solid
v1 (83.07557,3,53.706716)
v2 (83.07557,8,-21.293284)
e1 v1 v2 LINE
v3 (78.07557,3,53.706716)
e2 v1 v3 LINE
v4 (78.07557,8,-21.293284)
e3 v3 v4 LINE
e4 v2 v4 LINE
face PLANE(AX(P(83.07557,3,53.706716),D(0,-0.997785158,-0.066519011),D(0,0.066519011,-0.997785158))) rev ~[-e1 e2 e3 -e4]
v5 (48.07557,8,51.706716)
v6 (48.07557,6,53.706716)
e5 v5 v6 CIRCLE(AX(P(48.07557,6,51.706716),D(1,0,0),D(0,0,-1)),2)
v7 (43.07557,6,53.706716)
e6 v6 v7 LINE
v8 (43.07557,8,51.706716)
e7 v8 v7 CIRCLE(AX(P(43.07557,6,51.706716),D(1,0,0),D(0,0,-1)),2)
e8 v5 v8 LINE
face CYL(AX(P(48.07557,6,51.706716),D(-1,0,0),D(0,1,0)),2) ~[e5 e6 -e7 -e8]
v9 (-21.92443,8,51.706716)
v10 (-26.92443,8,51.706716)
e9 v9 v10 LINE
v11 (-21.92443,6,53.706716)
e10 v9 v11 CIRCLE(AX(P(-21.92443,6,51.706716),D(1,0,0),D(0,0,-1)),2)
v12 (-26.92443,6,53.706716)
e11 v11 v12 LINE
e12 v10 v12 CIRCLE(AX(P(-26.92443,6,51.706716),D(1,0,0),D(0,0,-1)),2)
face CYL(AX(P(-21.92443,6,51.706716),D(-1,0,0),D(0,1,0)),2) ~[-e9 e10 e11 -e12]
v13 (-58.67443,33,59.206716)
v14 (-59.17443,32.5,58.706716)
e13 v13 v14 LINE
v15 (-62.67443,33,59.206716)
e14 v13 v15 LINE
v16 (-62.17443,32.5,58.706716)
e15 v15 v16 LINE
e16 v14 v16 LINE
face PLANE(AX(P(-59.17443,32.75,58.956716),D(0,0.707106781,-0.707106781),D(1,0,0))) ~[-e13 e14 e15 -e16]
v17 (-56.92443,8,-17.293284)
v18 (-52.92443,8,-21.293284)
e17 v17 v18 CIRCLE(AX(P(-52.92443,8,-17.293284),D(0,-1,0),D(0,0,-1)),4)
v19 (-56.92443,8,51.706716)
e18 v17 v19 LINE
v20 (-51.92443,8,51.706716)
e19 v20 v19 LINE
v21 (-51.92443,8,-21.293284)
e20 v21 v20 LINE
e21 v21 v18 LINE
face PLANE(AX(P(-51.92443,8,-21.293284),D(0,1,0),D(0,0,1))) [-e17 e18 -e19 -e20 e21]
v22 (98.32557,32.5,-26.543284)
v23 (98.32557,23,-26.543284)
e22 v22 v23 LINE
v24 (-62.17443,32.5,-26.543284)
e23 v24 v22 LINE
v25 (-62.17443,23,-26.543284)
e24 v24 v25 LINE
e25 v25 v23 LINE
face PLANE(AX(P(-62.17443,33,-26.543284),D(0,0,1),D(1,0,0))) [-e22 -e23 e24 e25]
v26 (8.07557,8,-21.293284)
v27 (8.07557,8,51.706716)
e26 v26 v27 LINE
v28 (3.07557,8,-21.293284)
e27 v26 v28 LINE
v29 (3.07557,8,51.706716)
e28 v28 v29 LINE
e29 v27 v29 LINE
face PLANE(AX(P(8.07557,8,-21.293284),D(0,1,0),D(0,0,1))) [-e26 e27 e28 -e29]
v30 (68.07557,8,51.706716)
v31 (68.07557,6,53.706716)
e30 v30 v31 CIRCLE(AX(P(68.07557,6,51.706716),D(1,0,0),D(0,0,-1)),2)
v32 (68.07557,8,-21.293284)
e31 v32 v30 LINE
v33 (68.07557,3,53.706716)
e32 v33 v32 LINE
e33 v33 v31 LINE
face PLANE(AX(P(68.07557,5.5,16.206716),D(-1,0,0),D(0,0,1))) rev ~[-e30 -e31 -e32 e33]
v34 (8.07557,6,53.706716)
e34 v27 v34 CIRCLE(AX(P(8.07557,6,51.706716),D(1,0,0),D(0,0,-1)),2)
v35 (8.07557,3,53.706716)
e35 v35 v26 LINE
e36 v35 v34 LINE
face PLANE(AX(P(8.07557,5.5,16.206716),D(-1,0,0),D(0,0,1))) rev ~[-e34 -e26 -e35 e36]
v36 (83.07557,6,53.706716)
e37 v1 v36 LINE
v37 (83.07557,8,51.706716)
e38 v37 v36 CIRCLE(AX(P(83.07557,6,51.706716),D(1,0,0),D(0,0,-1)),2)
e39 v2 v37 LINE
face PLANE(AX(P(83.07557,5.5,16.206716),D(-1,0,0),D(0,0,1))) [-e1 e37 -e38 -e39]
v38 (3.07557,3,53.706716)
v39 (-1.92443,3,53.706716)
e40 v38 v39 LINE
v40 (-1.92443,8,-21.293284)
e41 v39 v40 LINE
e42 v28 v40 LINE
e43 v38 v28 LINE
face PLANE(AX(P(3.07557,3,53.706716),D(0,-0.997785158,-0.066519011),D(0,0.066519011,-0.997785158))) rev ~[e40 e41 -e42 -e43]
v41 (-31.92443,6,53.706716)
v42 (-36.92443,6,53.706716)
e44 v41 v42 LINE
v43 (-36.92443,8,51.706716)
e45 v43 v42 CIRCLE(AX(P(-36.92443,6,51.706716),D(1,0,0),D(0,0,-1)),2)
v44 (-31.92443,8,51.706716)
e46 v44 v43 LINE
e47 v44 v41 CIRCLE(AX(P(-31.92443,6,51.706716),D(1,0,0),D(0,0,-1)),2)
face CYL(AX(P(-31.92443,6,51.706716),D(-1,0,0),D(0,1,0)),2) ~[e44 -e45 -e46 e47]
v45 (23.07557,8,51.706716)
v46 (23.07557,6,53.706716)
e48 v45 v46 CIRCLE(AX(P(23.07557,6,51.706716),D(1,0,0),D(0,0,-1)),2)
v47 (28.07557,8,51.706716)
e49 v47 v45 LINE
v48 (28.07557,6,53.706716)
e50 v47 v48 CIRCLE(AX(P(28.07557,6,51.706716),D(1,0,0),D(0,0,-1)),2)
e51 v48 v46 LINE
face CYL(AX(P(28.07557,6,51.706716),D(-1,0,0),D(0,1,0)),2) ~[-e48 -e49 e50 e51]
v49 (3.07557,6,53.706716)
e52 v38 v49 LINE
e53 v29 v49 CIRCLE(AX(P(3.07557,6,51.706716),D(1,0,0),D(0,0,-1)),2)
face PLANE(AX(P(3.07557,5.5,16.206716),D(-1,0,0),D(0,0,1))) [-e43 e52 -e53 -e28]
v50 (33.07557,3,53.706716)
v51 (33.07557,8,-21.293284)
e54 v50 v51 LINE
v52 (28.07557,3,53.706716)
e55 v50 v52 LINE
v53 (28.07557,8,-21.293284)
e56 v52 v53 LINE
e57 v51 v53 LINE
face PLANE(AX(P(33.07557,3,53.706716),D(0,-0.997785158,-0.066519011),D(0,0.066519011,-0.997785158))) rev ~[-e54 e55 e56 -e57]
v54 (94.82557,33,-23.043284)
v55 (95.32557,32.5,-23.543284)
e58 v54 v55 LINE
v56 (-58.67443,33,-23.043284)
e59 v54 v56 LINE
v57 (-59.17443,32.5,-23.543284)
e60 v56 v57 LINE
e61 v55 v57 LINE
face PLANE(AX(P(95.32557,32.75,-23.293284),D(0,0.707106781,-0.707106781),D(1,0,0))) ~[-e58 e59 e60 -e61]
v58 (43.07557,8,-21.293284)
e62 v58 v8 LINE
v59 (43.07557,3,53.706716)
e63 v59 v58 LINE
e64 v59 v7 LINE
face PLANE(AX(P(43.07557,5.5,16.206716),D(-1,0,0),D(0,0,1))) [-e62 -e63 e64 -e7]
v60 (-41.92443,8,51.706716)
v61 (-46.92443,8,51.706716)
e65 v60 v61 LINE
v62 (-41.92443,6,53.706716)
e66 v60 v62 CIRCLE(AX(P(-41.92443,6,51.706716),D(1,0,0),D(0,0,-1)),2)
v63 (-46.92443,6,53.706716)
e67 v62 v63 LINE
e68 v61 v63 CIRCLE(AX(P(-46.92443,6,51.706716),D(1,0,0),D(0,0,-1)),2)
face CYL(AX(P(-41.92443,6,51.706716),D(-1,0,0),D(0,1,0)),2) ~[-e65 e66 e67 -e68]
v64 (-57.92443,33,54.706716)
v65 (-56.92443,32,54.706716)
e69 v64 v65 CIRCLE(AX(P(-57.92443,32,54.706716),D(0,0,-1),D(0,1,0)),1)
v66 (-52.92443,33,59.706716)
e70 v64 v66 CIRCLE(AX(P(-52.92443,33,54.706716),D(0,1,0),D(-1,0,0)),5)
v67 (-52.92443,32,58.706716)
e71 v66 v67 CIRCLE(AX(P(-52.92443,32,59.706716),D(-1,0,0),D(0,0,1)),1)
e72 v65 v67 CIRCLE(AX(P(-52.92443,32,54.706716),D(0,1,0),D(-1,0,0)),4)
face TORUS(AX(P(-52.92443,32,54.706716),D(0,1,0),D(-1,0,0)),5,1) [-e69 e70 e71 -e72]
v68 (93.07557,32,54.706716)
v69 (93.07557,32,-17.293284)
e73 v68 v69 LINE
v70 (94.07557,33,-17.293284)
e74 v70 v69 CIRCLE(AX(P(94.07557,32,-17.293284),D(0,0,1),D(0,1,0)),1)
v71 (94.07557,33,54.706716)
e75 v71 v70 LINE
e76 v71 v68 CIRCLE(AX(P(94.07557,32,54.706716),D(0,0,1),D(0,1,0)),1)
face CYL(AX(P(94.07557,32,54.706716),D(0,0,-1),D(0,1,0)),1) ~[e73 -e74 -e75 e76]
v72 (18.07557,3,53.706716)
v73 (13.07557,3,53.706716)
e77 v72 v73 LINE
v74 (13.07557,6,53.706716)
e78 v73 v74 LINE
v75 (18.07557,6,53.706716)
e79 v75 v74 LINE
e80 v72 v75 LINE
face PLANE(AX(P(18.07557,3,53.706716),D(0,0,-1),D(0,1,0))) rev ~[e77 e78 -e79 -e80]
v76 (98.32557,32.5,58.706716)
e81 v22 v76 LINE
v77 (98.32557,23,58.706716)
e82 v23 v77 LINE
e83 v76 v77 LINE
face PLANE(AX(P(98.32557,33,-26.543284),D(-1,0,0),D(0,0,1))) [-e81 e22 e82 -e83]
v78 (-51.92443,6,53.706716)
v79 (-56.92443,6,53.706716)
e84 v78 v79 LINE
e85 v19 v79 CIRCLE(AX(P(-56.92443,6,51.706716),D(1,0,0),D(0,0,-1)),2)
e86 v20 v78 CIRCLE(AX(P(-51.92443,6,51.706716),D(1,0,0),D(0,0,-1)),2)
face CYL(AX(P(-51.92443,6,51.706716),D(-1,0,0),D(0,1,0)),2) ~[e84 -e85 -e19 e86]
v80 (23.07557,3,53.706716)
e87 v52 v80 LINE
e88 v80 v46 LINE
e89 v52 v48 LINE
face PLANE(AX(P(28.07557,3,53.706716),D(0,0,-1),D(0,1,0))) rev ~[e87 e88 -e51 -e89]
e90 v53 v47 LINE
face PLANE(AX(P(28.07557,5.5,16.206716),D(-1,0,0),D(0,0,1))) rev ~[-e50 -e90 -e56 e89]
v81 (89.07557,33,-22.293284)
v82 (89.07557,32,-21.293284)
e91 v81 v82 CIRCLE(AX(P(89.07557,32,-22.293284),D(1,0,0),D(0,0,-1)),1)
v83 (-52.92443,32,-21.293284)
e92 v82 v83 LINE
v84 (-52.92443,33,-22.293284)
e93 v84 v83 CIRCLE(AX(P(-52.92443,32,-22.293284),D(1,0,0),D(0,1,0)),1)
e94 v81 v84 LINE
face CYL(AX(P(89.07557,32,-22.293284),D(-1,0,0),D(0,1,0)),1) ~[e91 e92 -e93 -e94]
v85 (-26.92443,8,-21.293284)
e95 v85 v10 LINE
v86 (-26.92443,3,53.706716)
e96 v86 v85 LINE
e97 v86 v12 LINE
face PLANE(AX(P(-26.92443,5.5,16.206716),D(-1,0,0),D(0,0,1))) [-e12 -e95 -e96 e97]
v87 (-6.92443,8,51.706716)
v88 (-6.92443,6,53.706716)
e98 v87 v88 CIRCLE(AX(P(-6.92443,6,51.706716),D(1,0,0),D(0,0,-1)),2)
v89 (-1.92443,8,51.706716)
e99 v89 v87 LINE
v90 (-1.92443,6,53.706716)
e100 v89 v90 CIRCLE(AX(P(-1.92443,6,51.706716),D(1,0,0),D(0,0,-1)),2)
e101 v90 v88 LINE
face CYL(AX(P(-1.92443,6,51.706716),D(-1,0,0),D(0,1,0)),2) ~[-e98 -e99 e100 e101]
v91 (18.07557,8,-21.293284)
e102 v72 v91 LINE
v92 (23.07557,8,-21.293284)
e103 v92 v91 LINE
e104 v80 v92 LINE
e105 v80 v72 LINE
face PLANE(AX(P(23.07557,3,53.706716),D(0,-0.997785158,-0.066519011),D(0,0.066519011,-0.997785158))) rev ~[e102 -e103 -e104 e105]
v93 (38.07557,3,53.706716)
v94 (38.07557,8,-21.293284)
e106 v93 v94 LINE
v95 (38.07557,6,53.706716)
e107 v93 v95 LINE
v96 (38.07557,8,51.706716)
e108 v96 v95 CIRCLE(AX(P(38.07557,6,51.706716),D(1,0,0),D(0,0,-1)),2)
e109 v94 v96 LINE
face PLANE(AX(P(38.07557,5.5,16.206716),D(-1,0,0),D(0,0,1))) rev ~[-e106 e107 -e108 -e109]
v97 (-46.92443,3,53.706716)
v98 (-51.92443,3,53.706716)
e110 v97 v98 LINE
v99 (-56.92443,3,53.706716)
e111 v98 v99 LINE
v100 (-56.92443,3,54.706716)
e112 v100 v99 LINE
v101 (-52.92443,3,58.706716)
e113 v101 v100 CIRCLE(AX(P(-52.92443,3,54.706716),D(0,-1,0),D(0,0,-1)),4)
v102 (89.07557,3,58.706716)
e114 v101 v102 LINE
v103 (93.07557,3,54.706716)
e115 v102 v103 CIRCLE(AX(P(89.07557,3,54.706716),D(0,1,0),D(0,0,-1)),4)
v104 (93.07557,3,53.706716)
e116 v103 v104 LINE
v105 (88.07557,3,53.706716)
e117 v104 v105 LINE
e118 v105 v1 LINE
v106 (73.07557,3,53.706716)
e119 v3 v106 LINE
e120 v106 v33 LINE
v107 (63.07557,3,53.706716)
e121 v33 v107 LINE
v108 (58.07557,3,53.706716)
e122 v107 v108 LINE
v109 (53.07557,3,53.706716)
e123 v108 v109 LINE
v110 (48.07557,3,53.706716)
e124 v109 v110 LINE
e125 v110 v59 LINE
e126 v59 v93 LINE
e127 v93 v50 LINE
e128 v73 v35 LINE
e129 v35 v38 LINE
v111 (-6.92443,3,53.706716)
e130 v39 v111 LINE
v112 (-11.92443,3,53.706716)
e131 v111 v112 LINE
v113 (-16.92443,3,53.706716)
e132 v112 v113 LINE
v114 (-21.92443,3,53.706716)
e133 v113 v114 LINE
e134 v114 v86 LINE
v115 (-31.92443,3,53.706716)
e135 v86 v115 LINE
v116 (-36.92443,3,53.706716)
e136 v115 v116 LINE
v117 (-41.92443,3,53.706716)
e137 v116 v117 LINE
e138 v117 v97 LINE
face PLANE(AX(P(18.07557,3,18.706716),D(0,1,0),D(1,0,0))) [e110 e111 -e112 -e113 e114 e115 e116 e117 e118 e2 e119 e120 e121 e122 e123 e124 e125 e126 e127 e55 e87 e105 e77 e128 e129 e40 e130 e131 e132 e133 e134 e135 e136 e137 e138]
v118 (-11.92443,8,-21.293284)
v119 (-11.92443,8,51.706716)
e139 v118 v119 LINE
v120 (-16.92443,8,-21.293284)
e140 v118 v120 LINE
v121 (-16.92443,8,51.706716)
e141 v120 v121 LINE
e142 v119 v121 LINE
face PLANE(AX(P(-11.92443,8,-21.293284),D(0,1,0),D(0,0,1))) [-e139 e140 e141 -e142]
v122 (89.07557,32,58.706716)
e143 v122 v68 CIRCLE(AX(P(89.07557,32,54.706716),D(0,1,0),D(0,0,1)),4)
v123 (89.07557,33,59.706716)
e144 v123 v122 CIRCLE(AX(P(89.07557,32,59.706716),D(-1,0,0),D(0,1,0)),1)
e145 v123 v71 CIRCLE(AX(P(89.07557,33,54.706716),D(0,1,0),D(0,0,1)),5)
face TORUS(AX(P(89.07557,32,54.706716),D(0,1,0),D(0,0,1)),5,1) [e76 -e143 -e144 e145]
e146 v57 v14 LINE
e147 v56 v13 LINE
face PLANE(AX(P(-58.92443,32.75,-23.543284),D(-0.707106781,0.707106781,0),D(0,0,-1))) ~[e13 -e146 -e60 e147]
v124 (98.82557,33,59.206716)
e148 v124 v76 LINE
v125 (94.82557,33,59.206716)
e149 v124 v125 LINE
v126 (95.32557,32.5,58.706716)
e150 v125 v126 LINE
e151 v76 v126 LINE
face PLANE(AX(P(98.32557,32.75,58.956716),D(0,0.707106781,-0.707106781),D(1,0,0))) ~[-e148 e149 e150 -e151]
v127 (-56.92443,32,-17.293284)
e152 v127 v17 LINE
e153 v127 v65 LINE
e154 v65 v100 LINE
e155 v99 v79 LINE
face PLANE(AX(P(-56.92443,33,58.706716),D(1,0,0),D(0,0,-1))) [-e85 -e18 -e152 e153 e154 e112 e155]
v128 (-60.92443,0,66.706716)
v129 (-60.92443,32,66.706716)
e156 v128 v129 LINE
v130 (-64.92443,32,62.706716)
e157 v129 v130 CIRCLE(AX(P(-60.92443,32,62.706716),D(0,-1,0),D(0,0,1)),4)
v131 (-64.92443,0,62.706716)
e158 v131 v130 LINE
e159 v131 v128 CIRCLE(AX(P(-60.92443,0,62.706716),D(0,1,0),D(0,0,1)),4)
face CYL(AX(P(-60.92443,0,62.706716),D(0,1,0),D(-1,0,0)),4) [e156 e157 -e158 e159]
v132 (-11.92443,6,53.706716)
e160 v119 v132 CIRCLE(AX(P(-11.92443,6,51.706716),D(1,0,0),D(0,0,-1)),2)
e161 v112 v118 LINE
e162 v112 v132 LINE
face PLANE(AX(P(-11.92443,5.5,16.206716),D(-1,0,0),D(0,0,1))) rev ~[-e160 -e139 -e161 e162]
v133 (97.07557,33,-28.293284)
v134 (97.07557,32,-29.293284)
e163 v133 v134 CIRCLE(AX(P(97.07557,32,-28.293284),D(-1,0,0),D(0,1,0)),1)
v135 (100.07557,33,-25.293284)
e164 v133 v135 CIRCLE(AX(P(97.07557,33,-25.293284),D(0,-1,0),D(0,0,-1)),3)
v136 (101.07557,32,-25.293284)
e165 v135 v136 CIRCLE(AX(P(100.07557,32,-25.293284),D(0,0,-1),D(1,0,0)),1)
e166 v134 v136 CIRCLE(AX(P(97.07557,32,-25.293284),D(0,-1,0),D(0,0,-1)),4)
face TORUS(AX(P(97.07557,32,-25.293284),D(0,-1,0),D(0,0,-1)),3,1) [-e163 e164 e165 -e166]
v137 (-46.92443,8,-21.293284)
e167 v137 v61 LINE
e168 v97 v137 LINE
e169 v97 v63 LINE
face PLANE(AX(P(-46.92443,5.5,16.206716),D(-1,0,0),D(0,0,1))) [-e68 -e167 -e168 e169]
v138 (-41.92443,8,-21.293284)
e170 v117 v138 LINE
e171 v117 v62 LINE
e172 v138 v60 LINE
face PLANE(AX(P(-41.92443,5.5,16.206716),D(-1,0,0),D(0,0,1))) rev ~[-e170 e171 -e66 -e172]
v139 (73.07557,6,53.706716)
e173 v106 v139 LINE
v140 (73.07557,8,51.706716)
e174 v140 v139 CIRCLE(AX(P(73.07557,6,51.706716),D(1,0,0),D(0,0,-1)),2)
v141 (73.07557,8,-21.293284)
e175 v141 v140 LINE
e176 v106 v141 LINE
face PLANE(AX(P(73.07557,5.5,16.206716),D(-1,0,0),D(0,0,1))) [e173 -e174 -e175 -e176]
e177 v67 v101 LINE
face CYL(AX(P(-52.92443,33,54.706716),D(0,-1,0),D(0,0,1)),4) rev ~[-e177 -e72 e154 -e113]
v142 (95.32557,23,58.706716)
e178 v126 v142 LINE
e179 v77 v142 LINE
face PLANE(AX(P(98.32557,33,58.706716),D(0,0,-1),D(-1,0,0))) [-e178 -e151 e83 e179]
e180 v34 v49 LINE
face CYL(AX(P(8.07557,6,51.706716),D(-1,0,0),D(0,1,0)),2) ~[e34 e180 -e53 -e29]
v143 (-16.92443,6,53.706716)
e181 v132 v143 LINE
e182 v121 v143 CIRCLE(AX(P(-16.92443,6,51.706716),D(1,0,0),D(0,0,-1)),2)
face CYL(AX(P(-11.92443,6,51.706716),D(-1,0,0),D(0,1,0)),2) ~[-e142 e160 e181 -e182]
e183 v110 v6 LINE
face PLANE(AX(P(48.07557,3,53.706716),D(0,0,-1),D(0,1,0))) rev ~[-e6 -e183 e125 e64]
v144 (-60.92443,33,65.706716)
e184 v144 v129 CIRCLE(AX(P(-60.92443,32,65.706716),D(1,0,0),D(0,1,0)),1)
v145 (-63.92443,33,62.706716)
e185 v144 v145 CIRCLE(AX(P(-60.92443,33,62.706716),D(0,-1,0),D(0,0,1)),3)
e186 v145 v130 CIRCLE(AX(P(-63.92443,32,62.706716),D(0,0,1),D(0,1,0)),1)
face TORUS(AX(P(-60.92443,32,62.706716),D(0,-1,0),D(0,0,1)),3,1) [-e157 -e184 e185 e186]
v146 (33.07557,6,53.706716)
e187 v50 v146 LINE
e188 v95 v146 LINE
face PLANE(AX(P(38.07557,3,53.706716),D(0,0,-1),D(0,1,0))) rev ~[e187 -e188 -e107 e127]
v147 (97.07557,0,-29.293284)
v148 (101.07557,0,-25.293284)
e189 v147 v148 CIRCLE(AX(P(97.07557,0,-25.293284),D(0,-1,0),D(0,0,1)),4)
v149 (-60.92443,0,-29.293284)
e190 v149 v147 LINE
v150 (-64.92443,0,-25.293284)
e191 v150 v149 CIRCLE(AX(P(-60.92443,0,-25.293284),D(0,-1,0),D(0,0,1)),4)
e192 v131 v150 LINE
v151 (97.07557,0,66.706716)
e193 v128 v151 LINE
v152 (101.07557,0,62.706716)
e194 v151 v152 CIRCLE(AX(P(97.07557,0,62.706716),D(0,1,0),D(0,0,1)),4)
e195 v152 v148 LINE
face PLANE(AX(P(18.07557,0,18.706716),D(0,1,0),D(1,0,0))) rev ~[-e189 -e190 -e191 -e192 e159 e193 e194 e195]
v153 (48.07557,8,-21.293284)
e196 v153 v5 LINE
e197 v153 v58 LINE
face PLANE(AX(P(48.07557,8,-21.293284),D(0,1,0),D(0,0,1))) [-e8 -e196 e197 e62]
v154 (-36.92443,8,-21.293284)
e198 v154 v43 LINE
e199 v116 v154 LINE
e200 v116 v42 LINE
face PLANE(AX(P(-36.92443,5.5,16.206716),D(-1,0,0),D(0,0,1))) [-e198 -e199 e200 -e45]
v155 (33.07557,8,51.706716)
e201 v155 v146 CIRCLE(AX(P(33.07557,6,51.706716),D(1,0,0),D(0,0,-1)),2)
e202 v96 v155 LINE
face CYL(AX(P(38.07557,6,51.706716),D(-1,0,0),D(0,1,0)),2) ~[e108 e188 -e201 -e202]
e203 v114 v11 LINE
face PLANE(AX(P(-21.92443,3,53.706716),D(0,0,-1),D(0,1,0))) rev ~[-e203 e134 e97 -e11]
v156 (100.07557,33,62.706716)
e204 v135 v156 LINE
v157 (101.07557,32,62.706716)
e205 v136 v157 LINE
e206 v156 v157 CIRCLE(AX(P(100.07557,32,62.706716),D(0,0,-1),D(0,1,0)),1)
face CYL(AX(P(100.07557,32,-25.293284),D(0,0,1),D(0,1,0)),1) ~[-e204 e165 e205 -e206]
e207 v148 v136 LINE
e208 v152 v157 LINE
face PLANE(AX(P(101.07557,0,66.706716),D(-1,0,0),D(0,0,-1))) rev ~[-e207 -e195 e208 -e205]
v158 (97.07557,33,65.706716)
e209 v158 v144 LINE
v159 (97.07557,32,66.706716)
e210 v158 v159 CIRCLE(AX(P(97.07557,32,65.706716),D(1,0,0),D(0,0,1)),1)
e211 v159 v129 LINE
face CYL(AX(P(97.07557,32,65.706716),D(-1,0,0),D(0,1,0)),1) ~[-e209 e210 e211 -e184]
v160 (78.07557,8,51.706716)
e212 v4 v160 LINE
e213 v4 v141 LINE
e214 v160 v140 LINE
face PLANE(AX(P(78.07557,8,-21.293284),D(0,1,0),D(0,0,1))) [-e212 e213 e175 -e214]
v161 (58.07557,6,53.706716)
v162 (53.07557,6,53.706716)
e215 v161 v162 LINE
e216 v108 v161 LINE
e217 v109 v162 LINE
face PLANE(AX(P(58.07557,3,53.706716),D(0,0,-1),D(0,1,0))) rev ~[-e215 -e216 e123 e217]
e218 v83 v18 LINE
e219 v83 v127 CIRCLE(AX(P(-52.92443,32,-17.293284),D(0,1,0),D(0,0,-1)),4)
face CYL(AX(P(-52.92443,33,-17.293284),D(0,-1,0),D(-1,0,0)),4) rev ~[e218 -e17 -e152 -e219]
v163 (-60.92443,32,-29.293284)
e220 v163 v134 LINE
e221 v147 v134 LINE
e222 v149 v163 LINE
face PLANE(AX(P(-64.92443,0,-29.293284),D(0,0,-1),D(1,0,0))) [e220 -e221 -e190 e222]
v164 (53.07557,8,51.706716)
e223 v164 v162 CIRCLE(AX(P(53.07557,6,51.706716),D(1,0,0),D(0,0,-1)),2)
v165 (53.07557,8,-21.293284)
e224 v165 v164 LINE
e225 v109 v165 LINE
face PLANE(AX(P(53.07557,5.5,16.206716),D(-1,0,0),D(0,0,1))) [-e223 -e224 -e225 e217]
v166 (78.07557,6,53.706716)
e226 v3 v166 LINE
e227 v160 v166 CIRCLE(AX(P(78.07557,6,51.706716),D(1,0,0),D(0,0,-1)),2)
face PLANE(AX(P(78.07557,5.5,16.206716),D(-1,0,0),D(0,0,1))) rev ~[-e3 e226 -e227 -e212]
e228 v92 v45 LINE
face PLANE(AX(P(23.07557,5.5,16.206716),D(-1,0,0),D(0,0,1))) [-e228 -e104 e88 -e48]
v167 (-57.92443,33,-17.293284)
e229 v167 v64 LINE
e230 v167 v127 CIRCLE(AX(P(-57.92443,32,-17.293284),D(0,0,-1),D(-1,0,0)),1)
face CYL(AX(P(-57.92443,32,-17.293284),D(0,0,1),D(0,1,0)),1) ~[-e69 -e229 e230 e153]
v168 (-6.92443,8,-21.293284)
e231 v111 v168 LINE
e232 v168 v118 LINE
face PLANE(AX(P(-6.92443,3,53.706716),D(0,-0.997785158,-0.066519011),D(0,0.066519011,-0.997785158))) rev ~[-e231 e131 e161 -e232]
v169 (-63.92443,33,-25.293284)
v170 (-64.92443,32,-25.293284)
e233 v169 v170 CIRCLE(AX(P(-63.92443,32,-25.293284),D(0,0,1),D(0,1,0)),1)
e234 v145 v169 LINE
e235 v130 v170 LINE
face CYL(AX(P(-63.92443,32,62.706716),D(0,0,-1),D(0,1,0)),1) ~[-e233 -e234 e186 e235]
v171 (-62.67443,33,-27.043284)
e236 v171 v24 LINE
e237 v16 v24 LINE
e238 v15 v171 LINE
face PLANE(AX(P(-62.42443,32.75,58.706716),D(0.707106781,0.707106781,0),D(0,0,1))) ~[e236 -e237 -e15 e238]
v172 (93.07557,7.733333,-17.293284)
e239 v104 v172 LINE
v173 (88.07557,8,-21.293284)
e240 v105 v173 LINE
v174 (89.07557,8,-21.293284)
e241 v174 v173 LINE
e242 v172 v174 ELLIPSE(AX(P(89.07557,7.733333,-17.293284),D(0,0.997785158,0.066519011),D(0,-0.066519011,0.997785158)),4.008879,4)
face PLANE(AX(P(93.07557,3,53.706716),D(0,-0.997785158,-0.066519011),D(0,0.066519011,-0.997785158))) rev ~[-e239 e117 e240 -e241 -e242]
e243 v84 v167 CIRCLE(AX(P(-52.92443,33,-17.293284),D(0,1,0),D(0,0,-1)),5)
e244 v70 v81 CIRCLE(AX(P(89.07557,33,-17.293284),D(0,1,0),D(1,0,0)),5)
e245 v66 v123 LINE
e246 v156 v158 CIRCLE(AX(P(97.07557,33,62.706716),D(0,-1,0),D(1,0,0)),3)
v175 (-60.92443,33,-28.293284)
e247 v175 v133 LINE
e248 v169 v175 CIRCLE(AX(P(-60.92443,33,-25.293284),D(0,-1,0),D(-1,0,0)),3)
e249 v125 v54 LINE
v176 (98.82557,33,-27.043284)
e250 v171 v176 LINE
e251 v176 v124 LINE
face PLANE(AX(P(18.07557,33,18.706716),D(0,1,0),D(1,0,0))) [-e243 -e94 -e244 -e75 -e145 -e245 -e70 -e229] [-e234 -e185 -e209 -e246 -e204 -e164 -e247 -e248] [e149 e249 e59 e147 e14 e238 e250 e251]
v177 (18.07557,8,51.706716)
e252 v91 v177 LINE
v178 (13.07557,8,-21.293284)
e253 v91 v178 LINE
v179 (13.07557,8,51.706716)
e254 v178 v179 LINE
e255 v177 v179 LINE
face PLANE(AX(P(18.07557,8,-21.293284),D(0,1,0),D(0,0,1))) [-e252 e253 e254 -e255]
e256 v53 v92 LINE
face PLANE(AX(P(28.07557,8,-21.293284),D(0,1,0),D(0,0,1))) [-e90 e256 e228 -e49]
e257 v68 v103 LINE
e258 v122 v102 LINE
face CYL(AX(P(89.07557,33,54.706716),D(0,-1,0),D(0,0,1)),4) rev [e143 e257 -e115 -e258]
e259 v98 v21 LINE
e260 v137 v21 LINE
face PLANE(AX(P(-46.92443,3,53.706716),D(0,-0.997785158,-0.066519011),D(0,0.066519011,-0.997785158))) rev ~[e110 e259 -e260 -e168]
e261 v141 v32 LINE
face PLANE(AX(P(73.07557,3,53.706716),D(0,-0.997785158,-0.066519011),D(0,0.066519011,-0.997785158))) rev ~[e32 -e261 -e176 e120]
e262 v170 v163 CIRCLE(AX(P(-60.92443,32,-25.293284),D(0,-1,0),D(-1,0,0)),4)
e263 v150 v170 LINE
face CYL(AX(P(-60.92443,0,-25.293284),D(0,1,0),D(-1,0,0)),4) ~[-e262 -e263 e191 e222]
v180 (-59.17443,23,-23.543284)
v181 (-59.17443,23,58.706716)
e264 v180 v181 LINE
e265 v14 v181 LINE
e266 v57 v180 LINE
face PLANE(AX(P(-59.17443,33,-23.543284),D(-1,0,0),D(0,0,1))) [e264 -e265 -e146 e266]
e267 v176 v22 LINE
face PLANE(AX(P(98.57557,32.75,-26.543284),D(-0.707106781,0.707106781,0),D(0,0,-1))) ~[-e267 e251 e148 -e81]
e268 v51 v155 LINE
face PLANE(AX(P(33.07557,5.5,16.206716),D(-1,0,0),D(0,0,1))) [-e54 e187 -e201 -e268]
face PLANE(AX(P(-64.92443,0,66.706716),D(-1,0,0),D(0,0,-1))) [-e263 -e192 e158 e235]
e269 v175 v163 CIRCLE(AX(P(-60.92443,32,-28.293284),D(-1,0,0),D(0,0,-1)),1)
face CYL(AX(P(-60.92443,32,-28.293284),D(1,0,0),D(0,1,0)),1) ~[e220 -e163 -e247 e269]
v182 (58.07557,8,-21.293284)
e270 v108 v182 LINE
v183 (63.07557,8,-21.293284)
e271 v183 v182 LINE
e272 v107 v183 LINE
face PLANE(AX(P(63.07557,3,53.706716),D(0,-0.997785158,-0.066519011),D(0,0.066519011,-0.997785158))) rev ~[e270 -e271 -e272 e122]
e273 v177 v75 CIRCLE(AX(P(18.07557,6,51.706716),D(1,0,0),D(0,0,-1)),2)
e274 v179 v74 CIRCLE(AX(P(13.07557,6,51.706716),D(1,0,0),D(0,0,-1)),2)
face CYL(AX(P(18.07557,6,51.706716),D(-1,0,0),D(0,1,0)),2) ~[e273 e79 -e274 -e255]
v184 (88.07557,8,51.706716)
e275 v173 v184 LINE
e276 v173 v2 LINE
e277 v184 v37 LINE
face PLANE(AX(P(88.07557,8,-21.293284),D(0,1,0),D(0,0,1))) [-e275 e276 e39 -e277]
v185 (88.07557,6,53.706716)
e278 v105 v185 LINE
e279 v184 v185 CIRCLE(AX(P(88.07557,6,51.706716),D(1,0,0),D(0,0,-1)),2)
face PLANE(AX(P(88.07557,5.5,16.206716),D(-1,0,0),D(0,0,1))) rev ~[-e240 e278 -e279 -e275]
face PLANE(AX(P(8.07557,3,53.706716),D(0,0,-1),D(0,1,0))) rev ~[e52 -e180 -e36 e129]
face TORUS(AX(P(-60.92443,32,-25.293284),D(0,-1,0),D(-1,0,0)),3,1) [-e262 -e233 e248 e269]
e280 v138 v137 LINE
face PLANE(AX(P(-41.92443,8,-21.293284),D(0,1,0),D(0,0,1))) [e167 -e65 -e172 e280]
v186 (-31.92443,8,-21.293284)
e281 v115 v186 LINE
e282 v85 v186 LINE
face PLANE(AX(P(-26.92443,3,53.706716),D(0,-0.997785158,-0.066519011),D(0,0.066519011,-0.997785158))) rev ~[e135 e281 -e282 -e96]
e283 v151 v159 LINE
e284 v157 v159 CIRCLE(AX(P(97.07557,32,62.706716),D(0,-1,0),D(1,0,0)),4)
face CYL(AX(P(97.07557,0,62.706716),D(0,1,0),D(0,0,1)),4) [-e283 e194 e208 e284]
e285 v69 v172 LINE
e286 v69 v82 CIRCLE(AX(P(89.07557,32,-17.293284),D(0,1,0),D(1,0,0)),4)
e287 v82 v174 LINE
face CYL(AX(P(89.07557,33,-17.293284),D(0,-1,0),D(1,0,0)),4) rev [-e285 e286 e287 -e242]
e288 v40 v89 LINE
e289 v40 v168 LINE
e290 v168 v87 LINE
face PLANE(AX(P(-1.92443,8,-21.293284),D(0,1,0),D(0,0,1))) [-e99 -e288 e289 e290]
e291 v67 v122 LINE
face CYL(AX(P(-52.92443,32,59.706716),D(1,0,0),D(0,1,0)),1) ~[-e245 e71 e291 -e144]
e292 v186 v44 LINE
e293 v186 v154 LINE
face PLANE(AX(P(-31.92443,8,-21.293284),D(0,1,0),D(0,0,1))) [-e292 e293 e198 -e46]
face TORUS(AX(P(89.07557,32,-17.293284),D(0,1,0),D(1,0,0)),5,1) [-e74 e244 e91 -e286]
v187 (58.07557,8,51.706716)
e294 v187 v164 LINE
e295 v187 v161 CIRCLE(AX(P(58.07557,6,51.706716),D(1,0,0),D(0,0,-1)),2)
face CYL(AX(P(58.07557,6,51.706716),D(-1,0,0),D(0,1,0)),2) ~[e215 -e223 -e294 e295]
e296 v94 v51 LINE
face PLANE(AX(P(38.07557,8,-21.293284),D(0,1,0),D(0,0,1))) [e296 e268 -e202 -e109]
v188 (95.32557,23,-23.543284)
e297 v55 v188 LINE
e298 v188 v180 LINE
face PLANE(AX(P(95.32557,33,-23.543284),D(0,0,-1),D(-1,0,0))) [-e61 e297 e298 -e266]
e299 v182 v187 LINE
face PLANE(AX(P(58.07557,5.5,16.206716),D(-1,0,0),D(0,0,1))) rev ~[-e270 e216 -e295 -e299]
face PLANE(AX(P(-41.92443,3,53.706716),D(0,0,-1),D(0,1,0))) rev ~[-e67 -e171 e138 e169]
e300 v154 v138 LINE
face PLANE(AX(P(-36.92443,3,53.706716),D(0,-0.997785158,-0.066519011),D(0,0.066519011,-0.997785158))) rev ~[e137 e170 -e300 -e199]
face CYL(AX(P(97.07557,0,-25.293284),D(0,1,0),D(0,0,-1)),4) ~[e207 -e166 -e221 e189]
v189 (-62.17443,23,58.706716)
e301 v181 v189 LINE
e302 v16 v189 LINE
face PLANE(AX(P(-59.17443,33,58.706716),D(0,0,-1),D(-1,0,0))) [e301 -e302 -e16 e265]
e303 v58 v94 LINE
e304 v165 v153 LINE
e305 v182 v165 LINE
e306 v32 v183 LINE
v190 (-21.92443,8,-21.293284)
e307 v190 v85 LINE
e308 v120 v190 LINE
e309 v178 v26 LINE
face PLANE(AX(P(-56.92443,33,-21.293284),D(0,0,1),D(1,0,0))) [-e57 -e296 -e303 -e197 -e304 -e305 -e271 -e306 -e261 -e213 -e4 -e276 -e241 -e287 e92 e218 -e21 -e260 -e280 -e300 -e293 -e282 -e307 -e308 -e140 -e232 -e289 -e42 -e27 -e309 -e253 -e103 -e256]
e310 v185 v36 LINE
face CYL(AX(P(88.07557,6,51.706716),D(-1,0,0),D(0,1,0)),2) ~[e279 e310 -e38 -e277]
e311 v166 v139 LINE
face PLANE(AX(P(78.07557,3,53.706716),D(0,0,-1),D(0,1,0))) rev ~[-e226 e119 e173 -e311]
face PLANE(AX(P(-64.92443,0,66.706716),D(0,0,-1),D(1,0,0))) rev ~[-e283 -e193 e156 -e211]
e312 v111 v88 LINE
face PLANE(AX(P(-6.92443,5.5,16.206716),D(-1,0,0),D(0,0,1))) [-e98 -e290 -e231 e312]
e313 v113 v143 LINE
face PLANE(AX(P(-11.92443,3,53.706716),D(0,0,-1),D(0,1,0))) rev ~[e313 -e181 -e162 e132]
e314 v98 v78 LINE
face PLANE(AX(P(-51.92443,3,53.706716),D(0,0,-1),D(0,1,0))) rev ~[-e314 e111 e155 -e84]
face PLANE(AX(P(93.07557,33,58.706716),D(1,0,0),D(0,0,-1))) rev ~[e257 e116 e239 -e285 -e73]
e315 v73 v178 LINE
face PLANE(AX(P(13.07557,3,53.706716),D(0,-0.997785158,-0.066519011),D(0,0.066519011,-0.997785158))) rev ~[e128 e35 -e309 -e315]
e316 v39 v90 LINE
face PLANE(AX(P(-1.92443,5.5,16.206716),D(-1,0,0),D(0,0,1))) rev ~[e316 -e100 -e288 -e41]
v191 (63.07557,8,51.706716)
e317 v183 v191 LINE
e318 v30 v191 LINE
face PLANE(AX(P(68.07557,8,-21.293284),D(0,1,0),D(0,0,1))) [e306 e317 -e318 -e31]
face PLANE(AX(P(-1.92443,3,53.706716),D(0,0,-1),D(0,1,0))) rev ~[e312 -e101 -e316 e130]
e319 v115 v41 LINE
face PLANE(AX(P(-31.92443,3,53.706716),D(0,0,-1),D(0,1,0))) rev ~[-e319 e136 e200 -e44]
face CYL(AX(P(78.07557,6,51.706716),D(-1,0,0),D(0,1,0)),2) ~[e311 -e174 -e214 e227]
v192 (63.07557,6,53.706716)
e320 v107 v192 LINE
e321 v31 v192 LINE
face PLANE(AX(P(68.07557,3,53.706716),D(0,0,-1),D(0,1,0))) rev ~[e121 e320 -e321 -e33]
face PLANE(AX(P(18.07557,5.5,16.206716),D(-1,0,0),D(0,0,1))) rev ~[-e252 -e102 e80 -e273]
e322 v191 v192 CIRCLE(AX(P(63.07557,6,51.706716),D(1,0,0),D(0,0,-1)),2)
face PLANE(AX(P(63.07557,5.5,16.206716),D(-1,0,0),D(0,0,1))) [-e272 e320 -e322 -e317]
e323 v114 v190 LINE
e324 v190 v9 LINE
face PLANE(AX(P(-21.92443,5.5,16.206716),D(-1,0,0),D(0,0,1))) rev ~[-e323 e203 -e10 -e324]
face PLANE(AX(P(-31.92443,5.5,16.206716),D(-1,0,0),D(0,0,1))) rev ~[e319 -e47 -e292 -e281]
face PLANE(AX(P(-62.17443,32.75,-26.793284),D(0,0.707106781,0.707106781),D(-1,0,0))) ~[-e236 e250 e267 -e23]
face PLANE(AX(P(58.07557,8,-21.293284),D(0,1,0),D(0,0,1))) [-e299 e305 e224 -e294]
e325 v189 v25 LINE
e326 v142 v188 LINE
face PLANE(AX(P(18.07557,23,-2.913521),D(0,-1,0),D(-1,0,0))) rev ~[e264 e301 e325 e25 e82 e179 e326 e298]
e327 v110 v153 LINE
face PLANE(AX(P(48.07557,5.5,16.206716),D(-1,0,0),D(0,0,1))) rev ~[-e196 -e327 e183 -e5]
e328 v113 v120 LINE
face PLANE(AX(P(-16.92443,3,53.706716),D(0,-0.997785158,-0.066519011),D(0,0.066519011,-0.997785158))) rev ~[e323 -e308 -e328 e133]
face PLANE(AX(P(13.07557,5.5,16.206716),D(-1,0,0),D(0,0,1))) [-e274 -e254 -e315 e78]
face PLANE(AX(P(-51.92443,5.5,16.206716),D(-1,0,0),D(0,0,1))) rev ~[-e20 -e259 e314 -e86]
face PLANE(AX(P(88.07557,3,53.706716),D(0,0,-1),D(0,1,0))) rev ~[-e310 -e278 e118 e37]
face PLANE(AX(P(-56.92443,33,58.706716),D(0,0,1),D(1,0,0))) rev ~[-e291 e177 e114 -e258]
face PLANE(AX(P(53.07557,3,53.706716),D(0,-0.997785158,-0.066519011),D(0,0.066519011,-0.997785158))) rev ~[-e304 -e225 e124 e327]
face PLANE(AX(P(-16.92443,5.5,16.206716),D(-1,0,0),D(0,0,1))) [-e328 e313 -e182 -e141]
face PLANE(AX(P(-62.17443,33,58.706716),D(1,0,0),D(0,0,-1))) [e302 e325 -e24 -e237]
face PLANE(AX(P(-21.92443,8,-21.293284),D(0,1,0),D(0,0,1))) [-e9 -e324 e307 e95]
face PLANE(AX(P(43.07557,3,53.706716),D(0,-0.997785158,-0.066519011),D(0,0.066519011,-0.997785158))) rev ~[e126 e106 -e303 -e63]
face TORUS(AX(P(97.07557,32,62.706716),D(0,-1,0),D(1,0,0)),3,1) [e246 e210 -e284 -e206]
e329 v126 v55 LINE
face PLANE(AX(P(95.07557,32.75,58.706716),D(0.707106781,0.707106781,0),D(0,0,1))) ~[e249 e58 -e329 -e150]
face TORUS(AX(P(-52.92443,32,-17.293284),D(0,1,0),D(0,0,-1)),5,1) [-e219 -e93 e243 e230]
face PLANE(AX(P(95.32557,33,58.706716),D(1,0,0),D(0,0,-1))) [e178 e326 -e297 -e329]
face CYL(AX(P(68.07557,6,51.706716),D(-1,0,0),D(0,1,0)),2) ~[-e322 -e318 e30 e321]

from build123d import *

# Parameters (mm, degrees)
SKETCH1_W           = 166
SKETCH1_H           = 96
BOSS_EXTRUDE1_DEPTH = 33
SKETCH2_W           = 150
SKETCH2_H           = 80
CUT_EXTRUDE1_DEPTH  = 30
BOSS_EXTRUDE2_DEPTH = 5
SKETCH5_W           = 75
SKETCH5_H           = 5
BOSS_EXTRUDE3_DEPTH = 5
LPATTERN1_COUNT     = 15
LPATTERN1_PITCH     = 10
CUT_EXTRUDE5_DEPTH  = 10
FILLET1_R           = 4
FILLET2_R           = 4
FILLET3_R           = 2
FILLET5_R           = 1
CHAMFER1_SIZE       = 0.5


with BuildPart() as part:
    # Sketch1 → Boss-Extrude1 (new body)
    with BuildSketch(Plane(origin=(0, 0, 0), x_dir=(1, 0, 0), z_dir=(0, 1, 0))):
        with Locations((18.075570249, -18.706715624)):
            Rectangle(SKETCH1_W, SKETCH1_H)
    extrude(amount=BOSS_EXTRUDE1_DEPTH)

    # Sketch2 → Cut-Extrude1 (cut)
    with BuildSketch(Plane(origin=(0, 33, 0), x_dir=(1, 0, 0), z_dir=(0, 1, 0))):
        with Locations((18.075570249, -18.706715624)):
            Rectangle(SKETCH2_W, SKETCH2_H)
    extrude(amount=-CUT_EXTRUDE1_DEPTH, mode=Mode.SUBTRACT)

    # Sketch4 → Boss-Extrude2 (add)
    with BuildSketch(Plane.ZY.offset(-93.075570249)):
        Polygon((53.706715624, 3), (-21.293284376, 8), (-21.293284376, 3), align=None)
    boss_extrude2 = extrude(amount=BOSS_EXTRUDE2_DEPTH)

    # Sketch5 → Boss-Extrude3 (add)
    with BuildSketch(Plane.ZY.offset(-88.075570249)):
        with Locations((16.206715624, 5.5)):
            Rectangle(SKETCH5_W, SKETCH5_H)
    boss_extrude3 = extrude(amount=BOSS_EXTRUDE3_DEPTH)

    # LPattern1: Boss-Extrude2, Boss-Extrude3 ×15
    with Locations(*[(-i * LPATTERN1_PITCH, 0, 0) for i in range(1, LPATTERN1_COUNT)]):
        add(boss_extrude2)
        add(boss_extrude3)

    # Sketch9 → Cut-Extrude5 (cut)
    with BuildSketch(Plane(origin=(0, 33, 0), x_dir=(1, 0, 0), z_dir=(0, 1, 0))):
        Polygon((-62.174429751, 26.543284376), (98.325570249, 26.543284376), (98.325570249, -58.706715624), (95.325570249, -58.706715624), (95.325570249, 23.543284376), (-59.174429751, 23.543284376), (-59.174429751, -58.706715624), (-62.174429751, -58.706715624), align=None)
    extrude(amount=-CUT_EXTRUDE5_DEPTH, mode=Mode.SUBTRACT)

    # Fillet1
    fillet1_edges = [part.edges().sort_by_distance(p)[0] for p in [
        (-64.924429751, 16.5, -29.293284376),
        (101.075570249, 16.5, -29.293284376),
        (101.075570249, 16.5, 66.706715624),
        (-64.924429751, 16.5, 66.706715624),
    ]]
    fillet(fillet1_edges, radius=FILLET1_R)

    # Fillet2
    fillet2_edges = [part.edges().sort_by_distance(p)[0] for p in [
        (-56.924429751, 18, 58.706715624),
        (93.075570249, 18, 58.706715624),
        (93.075570249, 20.5, -21.293284376),
        (-56.924429751, 20.5, -21.293284376),
    ]]
    fillet(fillet2_edges, radius=FILLET2_R)

    # Fillet3
    fillet3_edges = [part.edges().sort_by_distance(p)[0] for p in [
        (75.575570249, 8, 53.706715624),
        (65.575570249, 8, 53.706715624),
        (55.575570249, 8, 53.706715624),
        (45.575570249, 8, 53.706715624),
        (35.575570249, 8, 53.706715624),
        (25.575570249, 8, 53.706715624),
        (15.575570249, 8, 53.706715624),
        (5.575570249, 8, 53.706715624),
        (-4.424429751, 8, 53.706715624),
        (-14.424429751, 8, 53.706715624),
        (-24.424429751, 8, 53.706715624),
        (-34.424429751, 8, 53.706715624),
        (-44.424429751, 8, 53.706715624),
        (-54.424429751, 8, 53.706715624),
        (85.575570249, 8, 53.706715624),
    ]]
    fillet(fillet3_edges, radius=FILLET3_R)

    # Fillet5
    fillet5_edges = [part.edges().sort_by_distance(p)[0] for p in [
        (-64.924429751, 33, 18.706715624),
        (18.075570249, 33, -29.293284376),
        (18.075570249, 33, 66.706715624),
        (101.075570249, 33, 18.706715624),
        (-63.752856875, 33, 65.535142749),
        (99.903997374, 33, 65.535142749),
        (99.903997374, 33, -28.1217115),
        (-63.752856875, 33, -28.1217115),
        (93.075570249, 33, 18.706715624),
        (18.075570249, 33, 58.706715624),
        (18.075570249, 33, -21.293284376),
        (-56.924429751, 33, 18.706715624),
        (91.903997374, 33, 57.535142749),
        (91.903997374, 33, -20.1217115),
        (-55.752856875, 33, -20.1217115),
        (-55.752856875, 33, 57.535142749),
    ]]
    fillet(fillet5_edges, radius=FILLET5_R)

    # Chamfer1
    chamfer1_edges = [part.edges().sort_by_distance(p)[0] for p in [
        (-62.174429751, 33, 16.081715624),
        (-60.674429751, 33, 58.706715624),
        (-59.174429751, 33, 17.581715624),
        (18.075570249, 33, -23.543284376),
        (95.325570249, 33, 17.581715624),
        (96.825570249, 33, 58.706715624),
        (98.325570249, 33, 16.081715624),
        (18.075570249, 33, -26.543284376),
    ]]
    chamfer(chamfer1_edges, length=CHAMFER1_SIZE)


solid = part.part
